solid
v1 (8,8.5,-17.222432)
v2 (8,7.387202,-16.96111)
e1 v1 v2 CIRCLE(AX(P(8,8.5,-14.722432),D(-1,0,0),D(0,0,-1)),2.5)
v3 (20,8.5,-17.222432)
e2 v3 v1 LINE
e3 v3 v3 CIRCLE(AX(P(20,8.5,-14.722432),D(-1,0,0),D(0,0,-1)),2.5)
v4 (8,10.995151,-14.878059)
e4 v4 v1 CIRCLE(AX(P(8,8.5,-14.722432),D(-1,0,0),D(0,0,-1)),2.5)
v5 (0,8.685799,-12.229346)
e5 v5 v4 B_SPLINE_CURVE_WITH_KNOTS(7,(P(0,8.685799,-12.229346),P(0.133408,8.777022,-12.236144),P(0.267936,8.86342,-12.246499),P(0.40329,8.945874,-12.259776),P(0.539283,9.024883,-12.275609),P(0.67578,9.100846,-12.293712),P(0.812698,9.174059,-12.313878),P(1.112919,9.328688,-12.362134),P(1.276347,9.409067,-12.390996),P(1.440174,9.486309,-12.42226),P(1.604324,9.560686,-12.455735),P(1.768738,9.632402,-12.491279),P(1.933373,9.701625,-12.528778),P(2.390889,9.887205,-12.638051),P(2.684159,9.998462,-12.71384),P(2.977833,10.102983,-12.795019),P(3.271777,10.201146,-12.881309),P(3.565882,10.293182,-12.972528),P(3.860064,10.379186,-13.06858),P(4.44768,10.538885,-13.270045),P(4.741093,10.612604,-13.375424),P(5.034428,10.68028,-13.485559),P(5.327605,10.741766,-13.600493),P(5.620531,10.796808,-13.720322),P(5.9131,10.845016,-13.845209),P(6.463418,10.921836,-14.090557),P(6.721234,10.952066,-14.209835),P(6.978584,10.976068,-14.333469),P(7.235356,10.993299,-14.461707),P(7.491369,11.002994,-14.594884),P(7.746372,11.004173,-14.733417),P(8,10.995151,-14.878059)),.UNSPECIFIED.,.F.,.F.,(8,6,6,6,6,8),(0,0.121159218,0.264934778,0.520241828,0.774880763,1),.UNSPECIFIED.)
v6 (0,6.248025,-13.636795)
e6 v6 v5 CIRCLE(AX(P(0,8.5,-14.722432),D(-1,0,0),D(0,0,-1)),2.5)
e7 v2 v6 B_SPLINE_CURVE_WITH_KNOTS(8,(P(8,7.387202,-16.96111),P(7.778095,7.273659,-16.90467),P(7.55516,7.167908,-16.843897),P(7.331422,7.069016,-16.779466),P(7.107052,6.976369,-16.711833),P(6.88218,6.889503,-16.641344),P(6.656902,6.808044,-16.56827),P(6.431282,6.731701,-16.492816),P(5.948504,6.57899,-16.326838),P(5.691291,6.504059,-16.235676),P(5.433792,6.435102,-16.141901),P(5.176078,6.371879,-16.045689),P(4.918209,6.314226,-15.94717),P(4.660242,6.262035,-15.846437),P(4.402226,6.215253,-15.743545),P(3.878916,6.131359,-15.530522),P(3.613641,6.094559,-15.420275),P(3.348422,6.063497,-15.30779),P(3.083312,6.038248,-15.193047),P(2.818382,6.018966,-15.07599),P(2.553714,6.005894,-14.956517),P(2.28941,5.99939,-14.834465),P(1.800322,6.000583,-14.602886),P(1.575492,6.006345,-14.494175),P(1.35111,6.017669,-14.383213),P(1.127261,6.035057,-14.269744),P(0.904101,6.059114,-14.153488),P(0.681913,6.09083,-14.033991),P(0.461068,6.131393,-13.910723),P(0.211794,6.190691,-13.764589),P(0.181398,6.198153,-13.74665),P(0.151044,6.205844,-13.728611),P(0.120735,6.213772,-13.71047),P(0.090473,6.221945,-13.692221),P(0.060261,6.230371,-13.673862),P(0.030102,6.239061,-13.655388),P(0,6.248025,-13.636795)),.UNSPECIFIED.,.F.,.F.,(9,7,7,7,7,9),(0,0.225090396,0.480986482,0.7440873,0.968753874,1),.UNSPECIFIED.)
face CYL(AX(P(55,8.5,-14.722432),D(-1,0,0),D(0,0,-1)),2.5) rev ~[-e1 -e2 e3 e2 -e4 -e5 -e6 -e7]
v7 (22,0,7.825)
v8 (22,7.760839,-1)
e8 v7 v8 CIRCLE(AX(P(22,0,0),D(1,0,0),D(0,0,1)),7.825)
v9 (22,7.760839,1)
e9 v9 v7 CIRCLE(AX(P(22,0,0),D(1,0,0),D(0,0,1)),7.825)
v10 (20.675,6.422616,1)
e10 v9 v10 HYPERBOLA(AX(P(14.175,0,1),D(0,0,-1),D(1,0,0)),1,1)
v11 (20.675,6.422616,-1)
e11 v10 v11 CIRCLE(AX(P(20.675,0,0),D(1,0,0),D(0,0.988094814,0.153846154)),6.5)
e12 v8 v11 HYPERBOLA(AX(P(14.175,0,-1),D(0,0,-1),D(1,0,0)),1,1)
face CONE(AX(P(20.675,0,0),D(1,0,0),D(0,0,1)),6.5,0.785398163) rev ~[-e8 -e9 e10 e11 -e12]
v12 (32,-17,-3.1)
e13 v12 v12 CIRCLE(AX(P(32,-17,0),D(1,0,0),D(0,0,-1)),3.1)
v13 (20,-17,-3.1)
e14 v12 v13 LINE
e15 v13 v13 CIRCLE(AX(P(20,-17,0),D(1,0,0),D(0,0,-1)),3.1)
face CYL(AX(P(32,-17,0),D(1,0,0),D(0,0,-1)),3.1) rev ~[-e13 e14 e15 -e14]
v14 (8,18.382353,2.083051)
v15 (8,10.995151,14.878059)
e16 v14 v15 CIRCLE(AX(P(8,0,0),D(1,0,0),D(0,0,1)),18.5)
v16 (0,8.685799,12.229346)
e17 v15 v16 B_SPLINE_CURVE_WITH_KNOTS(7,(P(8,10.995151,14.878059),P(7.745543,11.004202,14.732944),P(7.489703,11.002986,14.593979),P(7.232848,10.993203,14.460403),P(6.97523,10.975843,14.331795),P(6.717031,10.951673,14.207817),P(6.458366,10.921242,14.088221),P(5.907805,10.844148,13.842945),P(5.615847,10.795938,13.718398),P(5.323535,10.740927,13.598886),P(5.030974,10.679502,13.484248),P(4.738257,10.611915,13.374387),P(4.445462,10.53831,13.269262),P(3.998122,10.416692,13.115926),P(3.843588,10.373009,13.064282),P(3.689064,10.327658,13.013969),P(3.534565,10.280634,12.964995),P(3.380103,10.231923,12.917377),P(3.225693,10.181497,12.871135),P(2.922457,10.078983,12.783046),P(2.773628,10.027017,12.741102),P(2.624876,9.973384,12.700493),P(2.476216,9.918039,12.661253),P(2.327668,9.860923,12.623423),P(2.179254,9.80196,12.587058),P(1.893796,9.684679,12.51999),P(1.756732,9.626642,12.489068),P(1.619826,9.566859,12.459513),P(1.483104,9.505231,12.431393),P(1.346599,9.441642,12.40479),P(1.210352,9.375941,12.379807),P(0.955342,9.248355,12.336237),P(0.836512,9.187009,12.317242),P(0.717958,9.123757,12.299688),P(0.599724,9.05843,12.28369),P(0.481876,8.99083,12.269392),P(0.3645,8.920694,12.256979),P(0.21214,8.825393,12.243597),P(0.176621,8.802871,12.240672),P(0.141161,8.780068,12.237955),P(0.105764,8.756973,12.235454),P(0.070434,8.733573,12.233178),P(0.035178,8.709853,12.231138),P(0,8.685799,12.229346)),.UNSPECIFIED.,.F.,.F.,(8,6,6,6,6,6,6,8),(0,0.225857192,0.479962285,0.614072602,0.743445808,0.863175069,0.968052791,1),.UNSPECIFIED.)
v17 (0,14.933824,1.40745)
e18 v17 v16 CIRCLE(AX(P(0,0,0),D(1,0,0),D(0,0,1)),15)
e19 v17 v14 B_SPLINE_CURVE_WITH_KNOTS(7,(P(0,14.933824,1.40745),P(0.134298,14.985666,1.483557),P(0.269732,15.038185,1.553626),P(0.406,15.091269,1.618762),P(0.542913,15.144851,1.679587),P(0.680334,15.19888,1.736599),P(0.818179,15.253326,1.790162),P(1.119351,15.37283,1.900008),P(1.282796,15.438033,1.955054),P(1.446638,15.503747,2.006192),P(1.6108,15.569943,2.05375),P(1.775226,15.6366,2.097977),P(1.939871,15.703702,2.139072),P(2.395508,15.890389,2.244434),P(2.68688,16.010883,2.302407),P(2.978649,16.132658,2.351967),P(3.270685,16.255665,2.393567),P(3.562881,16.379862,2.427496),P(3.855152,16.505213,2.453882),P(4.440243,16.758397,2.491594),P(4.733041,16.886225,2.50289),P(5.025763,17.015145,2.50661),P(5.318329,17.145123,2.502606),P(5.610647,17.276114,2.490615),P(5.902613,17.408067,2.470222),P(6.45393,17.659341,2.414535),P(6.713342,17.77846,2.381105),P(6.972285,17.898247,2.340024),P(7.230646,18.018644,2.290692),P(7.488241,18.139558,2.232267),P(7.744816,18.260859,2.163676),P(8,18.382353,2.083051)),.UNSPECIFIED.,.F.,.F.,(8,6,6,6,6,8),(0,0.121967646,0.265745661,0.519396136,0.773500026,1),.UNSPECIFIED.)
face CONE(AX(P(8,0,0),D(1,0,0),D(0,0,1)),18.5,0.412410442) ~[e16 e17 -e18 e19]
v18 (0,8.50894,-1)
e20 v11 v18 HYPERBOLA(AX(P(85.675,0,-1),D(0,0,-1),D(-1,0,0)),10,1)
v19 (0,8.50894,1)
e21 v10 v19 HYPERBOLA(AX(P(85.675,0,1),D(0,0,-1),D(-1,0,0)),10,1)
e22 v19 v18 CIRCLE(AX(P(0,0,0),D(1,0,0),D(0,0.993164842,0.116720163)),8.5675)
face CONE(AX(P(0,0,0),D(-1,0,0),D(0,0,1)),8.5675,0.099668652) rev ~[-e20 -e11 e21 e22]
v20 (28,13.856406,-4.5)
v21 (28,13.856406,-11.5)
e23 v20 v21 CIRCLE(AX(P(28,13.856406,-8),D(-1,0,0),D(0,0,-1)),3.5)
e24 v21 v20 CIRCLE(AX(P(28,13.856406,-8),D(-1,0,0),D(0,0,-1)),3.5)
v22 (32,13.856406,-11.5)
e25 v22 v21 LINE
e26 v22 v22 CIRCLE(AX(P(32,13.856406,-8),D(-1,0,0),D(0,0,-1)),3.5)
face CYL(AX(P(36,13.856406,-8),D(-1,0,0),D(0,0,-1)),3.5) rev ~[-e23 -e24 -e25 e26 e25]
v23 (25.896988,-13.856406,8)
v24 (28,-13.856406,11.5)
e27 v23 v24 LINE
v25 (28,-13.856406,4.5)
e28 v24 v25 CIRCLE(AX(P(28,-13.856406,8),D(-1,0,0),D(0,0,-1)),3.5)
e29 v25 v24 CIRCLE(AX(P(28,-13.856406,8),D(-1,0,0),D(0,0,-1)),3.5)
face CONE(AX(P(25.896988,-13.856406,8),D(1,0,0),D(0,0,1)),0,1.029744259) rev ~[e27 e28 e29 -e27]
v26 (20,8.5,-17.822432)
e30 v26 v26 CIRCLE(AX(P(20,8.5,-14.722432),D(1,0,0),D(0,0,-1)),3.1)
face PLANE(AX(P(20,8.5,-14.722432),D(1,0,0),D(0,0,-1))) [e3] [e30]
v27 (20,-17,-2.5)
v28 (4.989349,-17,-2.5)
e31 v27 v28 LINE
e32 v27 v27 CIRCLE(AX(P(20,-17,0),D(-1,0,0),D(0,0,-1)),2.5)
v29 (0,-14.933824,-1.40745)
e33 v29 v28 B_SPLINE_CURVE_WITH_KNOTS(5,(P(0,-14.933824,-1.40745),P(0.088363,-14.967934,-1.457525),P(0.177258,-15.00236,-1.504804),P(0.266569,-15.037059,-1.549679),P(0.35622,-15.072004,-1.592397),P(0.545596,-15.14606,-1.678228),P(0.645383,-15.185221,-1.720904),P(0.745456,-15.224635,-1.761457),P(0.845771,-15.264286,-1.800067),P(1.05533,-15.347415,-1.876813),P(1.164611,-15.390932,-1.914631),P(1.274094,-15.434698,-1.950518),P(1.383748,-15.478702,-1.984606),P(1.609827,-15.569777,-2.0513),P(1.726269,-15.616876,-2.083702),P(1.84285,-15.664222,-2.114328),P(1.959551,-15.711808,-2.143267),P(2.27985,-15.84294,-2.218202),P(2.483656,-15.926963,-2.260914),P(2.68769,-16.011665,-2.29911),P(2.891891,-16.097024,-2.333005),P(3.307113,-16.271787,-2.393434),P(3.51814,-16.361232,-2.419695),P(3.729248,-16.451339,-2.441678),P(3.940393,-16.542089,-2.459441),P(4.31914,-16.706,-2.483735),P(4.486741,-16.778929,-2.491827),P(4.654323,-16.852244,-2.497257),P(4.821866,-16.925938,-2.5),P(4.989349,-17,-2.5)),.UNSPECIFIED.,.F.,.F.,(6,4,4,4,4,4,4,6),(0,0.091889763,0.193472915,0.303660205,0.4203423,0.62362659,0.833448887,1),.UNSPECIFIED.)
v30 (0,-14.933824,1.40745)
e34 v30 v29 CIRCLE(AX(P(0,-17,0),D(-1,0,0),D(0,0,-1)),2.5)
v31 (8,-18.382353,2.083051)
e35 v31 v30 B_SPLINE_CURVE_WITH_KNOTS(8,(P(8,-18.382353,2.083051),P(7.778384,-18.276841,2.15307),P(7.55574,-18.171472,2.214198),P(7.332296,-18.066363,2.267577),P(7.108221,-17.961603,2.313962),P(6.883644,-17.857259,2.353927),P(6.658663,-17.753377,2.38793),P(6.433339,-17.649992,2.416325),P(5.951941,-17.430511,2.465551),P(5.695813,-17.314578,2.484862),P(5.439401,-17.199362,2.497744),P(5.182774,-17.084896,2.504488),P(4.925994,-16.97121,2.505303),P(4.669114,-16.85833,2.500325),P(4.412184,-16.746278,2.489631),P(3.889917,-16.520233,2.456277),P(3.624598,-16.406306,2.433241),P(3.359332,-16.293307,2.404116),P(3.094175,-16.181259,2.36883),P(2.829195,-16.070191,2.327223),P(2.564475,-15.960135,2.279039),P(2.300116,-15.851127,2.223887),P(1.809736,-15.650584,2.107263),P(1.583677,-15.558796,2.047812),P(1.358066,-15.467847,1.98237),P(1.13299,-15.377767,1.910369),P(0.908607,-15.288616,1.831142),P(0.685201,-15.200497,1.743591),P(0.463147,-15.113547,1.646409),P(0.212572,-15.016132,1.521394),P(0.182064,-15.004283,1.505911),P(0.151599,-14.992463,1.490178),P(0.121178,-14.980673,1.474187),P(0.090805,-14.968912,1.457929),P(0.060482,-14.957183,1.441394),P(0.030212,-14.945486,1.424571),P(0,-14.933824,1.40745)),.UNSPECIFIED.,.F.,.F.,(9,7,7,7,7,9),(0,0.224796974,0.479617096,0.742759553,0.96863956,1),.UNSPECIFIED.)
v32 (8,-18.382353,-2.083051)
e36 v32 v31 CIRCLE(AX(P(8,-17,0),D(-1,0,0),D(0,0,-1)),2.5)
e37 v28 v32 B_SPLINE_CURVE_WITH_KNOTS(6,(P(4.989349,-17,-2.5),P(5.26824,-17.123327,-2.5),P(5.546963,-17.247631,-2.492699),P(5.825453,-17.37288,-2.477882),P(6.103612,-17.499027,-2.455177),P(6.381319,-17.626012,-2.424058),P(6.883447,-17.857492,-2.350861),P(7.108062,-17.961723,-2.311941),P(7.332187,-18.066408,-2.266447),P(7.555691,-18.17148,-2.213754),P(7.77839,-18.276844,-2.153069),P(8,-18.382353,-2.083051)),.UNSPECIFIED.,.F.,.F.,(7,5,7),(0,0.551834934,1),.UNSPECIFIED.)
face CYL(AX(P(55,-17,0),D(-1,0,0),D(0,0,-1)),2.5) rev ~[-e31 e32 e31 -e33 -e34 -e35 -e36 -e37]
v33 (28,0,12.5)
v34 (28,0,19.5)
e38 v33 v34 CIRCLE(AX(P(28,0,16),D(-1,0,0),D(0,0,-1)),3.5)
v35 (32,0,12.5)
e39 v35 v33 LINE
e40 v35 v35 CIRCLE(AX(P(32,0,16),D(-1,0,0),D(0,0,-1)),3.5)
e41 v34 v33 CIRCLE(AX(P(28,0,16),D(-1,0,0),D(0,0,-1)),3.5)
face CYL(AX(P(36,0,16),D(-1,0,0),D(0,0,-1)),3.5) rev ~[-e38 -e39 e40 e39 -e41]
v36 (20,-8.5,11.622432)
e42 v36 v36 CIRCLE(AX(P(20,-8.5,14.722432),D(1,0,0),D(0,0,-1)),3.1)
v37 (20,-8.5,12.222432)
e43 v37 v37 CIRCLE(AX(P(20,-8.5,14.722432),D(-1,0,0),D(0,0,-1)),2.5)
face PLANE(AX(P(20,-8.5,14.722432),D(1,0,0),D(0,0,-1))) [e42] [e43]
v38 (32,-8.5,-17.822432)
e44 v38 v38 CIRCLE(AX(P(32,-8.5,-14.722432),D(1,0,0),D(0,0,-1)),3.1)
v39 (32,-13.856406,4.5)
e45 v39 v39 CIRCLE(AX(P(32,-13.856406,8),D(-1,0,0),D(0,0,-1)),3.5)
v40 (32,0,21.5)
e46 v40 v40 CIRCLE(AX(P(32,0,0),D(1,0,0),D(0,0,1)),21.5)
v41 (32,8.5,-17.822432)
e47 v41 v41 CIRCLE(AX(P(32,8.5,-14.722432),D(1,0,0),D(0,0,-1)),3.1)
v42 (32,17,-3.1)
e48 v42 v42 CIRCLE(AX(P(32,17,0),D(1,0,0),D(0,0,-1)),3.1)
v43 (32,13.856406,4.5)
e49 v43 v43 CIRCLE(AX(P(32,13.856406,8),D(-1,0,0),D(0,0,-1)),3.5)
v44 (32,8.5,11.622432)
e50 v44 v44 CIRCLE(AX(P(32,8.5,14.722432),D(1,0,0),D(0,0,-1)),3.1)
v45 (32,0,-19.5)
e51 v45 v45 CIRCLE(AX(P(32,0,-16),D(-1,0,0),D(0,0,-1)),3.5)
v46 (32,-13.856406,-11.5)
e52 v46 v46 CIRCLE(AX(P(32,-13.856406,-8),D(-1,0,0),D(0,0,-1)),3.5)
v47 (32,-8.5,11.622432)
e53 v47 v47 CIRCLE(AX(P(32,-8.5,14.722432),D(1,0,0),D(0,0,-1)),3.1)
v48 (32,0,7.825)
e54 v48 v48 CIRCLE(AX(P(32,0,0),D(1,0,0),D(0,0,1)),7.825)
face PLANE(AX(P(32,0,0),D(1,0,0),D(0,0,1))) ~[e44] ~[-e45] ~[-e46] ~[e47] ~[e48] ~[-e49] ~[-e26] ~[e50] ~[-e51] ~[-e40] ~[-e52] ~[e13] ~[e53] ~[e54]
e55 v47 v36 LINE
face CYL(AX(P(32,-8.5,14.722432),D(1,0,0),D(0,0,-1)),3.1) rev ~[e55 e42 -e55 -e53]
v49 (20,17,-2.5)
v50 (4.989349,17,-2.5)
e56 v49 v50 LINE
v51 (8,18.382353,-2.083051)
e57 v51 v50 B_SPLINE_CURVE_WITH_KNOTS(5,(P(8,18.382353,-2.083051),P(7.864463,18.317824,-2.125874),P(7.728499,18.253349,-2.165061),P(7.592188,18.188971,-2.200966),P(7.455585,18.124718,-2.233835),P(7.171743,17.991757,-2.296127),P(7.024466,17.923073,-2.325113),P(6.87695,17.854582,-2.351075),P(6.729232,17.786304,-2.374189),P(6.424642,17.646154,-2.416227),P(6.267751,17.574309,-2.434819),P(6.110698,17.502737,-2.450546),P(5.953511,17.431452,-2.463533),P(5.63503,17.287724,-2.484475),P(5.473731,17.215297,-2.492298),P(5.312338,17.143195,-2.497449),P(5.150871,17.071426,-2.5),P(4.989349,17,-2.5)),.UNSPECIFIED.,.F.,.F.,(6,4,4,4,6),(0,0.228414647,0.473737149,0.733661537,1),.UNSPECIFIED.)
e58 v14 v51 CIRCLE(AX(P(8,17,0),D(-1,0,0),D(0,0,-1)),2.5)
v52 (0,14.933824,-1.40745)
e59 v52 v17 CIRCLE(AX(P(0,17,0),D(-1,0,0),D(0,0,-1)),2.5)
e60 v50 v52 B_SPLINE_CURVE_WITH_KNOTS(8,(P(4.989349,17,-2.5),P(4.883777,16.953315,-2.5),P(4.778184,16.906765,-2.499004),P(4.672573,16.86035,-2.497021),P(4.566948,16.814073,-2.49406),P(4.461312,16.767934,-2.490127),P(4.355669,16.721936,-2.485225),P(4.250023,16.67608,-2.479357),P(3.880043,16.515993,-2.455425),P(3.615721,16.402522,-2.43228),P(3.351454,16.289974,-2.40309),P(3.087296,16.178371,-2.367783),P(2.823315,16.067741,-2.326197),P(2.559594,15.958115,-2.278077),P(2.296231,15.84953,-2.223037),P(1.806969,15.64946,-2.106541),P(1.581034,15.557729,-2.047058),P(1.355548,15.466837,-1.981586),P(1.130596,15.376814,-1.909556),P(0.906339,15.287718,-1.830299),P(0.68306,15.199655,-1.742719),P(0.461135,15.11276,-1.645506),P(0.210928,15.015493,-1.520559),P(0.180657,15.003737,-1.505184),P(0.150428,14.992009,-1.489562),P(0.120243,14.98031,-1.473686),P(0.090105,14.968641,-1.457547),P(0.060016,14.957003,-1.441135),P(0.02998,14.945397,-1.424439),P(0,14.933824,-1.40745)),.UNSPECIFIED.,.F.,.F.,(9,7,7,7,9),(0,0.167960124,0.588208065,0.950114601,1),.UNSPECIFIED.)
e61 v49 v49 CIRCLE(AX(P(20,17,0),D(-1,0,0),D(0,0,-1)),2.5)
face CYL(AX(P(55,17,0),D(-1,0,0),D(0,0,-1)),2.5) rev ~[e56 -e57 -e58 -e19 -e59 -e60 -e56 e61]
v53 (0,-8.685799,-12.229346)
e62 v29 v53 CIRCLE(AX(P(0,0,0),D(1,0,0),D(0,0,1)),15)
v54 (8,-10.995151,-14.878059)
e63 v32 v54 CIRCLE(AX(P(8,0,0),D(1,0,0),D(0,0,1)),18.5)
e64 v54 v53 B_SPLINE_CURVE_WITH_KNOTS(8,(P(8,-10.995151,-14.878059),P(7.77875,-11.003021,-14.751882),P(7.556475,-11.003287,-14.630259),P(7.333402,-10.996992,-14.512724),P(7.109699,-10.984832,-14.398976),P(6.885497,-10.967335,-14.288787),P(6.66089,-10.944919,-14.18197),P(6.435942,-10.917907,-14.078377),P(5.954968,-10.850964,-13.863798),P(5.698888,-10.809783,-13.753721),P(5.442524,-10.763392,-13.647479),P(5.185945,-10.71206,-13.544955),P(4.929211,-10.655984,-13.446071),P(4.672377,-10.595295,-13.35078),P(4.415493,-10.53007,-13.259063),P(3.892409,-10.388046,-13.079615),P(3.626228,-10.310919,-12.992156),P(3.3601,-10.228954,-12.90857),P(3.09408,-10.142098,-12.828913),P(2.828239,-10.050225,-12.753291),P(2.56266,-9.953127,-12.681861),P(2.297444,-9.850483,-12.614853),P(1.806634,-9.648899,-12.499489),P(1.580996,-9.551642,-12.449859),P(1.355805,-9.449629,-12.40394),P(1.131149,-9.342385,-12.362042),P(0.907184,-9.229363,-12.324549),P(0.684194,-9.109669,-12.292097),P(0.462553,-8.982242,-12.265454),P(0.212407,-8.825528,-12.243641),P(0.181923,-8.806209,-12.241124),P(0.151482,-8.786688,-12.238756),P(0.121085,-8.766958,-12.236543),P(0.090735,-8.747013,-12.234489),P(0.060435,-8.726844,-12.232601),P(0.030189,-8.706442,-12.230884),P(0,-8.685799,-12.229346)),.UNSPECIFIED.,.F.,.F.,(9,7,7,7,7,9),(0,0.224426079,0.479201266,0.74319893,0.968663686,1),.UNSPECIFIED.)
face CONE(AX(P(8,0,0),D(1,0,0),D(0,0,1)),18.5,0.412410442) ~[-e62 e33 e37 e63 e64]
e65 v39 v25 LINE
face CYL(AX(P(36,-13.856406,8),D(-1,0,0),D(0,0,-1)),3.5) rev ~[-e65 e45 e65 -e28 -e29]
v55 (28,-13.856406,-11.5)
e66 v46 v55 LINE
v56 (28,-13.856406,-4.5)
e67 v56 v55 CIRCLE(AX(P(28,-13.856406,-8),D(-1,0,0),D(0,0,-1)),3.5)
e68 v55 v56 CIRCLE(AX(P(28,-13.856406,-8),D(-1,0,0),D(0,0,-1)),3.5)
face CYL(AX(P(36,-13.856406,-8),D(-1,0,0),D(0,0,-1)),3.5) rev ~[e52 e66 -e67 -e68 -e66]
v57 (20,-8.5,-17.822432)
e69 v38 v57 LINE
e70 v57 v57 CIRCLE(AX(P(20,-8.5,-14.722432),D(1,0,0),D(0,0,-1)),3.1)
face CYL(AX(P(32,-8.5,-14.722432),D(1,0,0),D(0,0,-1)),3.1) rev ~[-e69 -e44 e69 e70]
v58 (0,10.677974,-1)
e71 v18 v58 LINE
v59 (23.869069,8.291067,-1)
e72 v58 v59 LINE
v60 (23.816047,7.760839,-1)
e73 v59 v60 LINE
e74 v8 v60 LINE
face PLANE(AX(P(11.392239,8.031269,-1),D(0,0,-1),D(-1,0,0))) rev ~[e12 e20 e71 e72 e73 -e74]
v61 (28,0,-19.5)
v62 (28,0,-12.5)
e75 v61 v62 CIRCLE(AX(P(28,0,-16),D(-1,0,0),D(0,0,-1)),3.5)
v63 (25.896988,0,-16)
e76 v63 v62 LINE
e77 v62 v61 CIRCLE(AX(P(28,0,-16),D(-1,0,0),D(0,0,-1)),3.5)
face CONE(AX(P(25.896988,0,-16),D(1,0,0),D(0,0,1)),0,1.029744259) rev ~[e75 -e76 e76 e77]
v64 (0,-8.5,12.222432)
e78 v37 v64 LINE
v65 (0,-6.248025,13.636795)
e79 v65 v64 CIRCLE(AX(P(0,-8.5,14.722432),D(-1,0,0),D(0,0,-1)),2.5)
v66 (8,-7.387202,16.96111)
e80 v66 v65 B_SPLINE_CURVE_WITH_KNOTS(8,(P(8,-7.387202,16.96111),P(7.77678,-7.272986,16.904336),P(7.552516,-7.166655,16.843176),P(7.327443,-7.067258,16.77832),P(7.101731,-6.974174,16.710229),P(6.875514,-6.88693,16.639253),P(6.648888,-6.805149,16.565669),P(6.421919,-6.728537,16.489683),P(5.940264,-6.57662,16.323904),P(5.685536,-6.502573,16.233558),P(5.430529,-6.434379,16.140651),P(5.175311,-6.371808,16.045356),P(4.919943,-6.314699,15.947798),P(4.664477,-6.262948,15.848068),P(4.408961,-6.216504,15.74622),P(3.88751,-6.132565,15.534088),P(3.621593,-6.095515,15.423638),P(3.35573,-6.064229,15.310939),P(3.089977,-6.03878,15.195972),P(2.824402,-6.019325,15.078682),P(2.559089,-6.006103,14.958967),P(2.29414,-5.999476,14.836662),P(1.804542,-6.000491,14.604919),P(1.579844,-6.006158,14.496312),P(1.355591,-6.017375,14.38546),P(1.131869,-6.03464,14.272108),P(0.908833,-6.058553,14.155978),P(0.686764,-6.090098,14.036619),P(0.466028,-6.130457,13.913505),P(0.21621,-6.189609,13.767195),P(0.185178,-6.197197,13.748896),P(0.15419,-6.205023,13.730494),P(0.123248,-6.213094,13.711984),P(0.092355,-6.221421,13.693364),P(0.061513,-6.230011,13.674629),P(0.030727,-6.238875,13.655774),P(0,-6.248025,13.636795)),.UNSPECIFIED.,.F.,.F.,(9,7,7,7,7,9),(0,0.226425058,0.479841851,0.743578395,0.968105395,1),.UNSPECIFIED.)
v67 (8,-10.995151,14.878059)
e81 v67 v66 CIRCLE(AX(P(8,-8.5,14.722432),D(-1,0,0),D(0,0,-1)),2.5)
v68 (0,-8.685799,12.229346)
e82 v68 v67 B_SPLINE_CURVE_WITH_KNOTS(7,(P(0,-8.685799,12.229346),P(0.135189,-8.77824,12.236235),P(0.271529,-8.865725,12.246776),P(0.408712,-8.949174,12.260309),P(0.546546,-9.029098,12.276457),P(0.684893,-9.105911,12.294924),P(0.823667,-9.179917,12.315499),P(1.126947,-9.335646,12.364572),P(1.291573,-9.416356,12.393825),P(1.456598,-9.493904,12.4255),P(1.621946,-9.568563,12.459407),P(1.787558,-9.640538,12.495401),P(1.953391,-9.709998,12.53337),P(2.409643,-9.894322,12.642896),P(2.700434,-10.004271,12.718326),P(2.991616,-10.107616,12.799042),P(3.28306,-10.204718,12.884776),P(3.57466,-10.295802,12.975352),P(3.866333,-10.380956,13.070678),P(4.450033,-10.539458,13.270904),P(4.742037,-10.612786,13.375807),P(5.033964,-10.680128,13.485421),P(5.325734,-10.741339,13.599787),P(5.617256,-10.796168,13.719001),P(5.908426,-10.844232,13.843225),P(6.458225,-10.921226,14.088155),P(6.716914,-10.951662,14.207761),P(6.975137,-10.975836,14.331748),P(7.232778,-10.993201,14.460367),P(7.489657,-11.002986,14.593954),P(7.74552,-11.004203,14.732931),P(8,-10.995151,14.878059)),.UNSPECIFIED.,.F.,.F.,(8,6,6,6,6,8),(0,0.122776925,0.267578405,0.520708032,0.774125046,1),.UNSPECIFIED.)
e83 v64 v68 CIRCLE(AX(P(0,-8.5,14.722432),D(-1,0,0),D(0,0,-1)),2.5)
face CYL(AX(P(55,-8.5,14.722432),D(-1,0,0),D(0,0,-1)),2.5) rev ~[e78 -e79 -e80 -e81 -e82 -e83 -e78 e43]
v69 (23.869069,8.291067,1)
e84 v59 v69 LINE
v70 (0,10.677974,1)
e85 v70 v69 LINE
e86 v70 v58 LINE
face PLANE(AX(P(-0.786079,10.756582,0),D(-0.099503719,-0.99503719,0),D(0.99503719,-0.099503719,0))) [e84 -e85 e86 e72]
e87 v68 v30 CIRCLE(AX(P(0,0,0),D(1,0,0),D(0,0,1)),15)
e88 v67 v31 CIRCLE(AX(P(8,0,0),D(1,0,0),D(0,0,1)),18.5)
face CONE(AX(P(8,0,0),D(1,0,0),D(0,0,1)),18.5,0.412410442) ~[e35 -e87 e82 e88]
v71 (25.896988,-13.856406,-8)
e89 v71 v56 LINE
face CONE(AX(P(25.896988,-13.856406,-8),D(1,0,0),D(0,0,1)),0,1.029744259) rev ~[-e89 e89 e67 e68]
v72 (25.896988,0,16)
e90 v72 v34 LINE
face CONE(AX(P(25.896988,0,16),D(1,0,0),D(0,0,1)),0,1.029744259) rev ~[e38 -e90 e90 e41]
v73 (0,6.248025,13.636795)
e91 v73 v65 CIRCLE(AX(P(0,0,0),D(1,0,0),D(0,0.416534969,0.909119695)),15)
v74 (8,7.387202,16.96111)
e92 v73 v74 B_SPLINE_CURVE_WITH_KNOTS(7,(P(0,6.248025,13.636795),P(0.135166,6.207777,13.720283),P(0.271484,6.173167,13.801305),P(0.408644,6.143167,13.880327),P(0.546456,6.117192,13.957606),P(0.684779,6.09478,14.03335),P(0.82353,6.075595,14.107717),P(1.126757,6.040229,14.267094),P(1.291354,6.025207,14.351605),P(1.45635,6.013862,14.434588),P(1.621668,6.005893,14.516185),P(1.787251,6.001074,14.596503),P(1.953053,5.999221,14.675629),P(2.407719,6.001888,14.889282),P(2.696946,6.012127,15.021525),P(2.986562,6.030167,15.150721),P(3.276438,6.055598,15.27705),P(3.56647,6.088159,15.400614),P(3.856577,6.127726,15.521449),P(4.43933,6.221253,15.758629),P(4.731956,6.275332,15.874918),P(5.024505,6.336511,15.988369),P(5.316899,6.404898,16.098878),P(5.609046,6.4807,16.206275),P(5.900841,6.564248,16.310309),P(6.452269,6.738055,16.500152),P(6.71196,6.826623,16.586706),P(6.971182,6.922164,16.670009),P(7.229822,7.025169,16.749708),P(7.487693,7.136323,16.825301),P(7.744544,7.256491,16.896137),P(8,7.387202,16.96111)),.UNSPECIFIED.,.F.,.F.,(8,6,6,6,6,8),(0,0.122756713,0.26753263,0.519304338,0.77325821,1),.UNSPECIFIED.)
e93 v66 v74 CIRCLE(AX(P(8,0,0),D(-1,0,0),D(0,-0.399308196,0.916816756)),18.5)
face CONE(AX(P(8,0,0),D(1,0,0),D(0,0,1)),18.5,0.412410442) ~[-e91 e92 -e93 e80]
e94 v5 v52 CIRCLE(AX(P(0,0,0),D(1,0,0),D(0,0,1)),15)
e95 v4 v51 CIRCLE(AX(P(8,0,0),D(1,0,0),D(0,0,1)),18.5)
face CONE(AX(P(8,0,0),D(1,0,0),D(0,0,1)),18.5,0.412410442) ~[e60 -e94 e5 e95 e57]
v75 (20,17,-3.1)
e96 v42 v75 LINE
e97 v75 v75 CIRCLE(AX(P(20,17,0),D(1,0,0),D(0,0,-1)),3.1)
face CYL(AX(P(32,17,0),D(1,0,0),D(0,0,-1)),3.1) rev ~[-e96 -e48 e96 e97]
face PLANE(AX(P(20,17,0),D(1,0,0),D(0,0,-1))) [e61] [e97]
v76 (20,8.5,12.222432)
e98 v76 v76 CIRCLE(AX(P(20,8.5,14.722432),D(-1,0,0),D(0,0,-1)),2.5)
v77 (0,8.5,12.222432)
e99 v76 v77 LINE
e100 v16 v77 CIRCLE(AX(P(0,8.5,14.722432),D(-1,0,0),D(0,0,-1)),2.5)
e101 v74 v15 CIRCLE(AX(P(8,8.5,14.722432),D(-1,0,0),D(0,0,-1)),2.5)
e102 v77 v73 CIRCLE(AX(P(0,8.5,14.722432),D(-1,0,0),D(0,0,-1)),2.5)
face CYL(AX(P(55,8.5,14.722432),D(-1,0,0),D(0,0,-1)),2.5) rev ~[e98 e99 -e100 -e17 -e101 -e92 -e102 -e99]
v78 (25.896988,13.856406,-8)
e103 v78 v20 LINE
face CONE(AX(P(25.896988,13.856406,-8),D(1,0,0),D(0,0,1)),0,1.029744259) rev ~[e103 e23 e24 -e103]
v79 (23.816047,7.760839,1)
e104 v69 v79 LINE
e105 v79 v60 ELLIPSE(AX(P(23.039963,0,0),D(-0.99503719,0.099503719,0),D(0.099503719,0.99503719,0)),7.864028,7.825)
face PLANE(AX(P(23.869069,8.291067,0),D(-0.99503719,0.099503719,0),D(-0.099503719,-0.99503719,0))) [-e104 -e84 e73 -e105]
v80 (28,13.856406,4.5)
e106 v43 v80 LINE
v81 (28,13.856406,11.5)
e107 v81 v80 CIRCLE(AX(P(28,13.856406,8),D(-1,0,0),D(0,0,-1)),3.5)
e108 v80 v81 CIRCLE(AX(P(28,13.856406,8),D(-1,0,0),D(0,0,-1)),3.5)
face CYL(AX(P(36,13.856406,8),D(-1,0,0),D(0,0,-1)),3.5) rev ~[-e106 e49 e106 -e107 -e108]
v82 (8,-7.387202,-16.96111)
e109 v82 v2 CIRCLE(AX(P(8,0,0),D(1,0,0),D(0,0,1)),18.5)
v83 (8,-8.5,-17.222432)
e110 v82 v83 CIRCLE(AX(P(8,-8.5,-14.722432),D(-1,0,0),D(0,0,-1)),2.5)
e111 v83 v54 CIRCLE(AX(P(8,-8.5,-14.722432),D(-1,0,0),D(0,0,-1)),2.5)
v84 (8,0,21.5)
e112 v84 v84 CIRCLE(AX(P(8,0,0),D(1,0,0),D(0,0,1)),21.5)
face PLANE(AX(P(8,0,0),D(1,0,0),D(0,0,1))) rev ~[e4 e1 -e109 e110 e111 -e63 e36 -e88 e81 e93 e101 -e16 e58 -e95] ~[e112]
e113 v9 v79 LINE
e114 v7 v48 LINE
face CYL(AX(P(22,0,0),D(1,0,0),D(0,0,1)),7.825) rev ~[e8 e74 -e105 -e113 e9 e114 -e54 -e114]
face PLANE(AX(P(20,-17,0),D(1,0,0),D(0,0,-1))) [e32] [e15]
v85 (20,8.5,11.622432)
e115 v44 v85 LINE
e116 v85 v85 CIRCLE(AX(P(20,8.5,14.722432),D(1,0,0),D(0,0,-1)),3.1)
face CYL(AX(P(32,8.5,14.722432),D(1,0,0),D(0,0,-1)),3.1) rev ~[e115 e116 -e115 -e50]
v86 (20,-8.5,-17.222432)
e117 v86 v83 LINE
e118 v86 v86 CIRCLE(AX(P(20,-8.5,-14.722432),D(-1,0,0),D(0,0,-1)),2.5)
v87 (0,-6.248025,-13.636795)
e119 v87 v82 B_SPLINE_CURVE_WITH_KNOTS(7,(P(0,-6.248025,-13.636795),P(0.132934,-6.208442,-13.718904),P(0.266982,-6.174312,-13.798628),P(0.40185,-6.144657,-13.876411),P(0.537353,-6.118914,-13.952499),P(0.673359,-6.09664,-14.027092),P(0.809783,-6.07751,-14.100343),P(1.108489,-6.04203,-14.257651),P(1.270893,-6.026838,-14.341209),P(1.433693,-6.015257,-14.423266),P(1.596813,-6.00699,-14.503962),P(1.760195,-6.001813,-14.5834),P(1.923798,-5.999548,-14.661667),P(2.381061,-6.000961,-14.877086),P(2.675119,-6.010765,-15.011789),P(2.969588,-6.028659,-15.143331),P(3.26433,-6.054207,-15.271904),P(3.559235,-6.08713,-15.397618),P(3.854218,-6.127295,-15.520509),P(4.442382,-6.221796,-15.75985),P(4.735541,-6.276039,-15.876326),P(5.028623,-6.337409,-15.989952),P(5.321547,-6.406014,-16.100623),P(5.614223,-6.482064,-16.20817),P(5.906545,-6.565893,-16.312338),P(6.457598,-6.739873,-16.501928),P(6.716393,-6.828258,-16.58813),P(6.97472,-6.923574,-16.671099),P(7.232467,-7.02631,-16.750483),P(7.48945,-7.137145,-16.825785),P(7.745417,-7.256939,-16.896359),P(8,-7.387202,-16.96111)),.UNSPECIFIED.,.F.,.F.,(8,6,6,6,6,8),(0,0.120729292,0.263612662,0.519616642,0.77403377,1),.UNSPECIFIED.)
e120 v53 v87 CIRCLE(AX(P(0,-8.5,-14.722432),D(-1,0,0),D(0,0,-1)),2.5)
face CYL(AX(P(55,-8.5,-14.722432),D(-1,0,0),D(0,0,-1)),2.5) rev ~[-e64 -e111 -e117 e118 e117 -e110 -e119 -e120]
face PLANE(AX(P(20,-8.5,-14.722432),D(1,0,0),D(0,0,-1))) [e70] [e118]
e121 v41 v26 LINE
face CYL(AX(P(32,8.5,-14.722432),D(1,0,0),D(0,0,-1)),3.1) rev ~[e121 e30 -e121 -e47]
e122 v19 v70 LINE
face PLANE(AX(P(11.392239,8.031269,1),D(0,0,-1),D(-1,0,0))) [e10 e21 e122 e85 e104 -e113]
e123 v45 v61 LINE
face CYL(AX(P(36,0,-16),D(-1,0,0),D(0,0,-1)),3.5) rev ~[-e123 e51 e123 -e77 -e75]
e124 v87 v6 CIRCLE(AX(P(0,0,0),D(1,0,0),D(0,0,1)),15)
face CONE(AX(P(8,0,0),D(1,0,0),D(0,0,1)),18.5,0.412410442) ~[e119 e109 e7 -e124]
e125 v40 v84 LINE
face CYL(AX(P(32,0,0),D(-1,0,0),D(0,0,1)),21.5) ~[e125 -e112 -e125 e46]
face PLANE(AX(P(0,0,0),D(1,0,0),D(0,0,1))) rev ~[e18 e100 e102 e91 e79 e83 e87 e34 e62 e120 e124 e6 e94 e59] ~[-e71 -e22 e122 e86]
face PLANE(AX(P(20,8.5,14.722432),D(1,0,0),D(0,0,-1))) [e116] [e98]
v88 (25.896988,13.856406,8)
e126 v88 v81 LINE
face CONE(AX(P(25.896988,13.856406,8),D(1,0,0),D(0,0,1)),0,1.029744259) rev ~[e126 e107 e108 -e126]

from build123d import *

# Parameters (mm, degrees)
SKETCH11_R                   = 3.1
EXTRUDE1_DEPTH               = 12
M6_TAPPED_HOLE1_D            = 5
M6_TAPPED_HOLE1_DEPTH        = 35
M6_TAPPED_HOLE1_TIP          = 1.502151548
F_7_0_7_DIAMETER_HOLE1_D     = 7
F_7_0_7_DIAMETER_HOLE1_DEPTH = 4
F_7_0_7_DIAMETER_HOLE1_TIP   = 2.103012167
EXTRUDE3_DEPTH               = 1


with BuildPart() as part:
    # Sketch1 → Revolve1 (revolve)
    with BuildSketch(Plane.XY, mode=Mode.PRIVATE) as revolve1_sk:
        Polygon((8, 18.5), (0, 15), (0, 8.5675), (20.675, 6.5), (22, 7.825), (32, 7.825), (32, 21.5), (8, 21.5), align=None)
    revolve(revolve1_sk.sketch.rotate(Axis((0, 0, 0), (1, 0, 0)), 90), axis=Axis((0, 0, 0), (1, 0, 0)))

    # Sketch11 → Extrude1 (cut)
    with BuildSketch(Plane(origin=(32, 0, 0), x_dir=(0, 0, -1), z_dir=(1, 0, 0))):
        with Locations((0, -17)):
            Circle(SKETCH11_R)
        with Locations((-14.722431864, -8.5)):
            Circle(SKETCH11_R)
        with Locations((-14.722431864, 8.5)):
            Circle(SKETCH11_R)
        with Locations((0, 17)):
            Circle(SKETCH11_R)
        with Locations((14.722431864, 8.5)):
            Circle(SKETCH11_R)
        with Locations((14.722431864, -8.5)):
            Circle(SKETCH11_R)
    extrude(amount=-EXTRUDE1_DEPTH, mode=Mode.SUBTRACT)

    # M6 Tapped Hole1
    with Locations(Plane(origin=(20, -17, 0), x_dir=(0, 0, 1), z_dir=(1, 0, 0))):
        with Locations((0, 0), (14.722431864, -8.5), (14.722431864, -25.5), (0, -34), (-14.722431864, -25.5), (-14.722431864, -8.5)):
            Hole(M6_TAPPED_HOLE1_D / 2, depth=M6_TAPPED_HOLE1_DEPTH)
            with Locations((0, 0, -(M6_TAPPED_HOLE1_DEPTH + M6_TAPPED_HOLE1_TIP / 2))):  # 118° drill point
                Cone(0, M6_TAPPED_HOLE1_D / 2, M6_TAPPED_HOLE1_TIP, mode=Mode.SUBTRACT)

    # Ø7.0 (7) Diameter Hole1
    with Locations(Plane(origin=(32, -13.856406461, -8), x_dir=(0, 0, 1), z_dir=(1, 0, 0))):
        with Locations((0, 0), (16, 0), (24, -13.856406461), (16, -27.712812922), (0, -27.712812922), (-8, -13.856406461)):
            Hole(F_7_0_7_DIAMETER_HOLE1_D / 2, depth=F_7_0_7_DIAMETER_HOLE1_DEPTH)
            with Locations((0, 0, -(F_7_0_7_DIAMETER_HOLE1_DEPTH + F_7_0_7_DIAMETER_HOLE1_TIP / 2))):  # 118° drill point
                Cone(0, F_7_0_7_DIAMETER_HOLE1_D / 2, F_7_0_7_DIAMETER_HOLE1_TIP, mode=Mode.SUBTRACT)

    # Sketch18 → Extrude3 (cut, symmetric)
    with BuildSketch(Plane.XY):
        Polygon((23.570558224, 5.305955372), (-1.084590537, 7.771470248), (-0.78607938, 10.756581818), (23.869069381, 8.291066942), align=None)
    extrude(amount=EXTRUDE3_DEPTH, both=True, mode=Mode.SUBTRACT)


solid = part.part
